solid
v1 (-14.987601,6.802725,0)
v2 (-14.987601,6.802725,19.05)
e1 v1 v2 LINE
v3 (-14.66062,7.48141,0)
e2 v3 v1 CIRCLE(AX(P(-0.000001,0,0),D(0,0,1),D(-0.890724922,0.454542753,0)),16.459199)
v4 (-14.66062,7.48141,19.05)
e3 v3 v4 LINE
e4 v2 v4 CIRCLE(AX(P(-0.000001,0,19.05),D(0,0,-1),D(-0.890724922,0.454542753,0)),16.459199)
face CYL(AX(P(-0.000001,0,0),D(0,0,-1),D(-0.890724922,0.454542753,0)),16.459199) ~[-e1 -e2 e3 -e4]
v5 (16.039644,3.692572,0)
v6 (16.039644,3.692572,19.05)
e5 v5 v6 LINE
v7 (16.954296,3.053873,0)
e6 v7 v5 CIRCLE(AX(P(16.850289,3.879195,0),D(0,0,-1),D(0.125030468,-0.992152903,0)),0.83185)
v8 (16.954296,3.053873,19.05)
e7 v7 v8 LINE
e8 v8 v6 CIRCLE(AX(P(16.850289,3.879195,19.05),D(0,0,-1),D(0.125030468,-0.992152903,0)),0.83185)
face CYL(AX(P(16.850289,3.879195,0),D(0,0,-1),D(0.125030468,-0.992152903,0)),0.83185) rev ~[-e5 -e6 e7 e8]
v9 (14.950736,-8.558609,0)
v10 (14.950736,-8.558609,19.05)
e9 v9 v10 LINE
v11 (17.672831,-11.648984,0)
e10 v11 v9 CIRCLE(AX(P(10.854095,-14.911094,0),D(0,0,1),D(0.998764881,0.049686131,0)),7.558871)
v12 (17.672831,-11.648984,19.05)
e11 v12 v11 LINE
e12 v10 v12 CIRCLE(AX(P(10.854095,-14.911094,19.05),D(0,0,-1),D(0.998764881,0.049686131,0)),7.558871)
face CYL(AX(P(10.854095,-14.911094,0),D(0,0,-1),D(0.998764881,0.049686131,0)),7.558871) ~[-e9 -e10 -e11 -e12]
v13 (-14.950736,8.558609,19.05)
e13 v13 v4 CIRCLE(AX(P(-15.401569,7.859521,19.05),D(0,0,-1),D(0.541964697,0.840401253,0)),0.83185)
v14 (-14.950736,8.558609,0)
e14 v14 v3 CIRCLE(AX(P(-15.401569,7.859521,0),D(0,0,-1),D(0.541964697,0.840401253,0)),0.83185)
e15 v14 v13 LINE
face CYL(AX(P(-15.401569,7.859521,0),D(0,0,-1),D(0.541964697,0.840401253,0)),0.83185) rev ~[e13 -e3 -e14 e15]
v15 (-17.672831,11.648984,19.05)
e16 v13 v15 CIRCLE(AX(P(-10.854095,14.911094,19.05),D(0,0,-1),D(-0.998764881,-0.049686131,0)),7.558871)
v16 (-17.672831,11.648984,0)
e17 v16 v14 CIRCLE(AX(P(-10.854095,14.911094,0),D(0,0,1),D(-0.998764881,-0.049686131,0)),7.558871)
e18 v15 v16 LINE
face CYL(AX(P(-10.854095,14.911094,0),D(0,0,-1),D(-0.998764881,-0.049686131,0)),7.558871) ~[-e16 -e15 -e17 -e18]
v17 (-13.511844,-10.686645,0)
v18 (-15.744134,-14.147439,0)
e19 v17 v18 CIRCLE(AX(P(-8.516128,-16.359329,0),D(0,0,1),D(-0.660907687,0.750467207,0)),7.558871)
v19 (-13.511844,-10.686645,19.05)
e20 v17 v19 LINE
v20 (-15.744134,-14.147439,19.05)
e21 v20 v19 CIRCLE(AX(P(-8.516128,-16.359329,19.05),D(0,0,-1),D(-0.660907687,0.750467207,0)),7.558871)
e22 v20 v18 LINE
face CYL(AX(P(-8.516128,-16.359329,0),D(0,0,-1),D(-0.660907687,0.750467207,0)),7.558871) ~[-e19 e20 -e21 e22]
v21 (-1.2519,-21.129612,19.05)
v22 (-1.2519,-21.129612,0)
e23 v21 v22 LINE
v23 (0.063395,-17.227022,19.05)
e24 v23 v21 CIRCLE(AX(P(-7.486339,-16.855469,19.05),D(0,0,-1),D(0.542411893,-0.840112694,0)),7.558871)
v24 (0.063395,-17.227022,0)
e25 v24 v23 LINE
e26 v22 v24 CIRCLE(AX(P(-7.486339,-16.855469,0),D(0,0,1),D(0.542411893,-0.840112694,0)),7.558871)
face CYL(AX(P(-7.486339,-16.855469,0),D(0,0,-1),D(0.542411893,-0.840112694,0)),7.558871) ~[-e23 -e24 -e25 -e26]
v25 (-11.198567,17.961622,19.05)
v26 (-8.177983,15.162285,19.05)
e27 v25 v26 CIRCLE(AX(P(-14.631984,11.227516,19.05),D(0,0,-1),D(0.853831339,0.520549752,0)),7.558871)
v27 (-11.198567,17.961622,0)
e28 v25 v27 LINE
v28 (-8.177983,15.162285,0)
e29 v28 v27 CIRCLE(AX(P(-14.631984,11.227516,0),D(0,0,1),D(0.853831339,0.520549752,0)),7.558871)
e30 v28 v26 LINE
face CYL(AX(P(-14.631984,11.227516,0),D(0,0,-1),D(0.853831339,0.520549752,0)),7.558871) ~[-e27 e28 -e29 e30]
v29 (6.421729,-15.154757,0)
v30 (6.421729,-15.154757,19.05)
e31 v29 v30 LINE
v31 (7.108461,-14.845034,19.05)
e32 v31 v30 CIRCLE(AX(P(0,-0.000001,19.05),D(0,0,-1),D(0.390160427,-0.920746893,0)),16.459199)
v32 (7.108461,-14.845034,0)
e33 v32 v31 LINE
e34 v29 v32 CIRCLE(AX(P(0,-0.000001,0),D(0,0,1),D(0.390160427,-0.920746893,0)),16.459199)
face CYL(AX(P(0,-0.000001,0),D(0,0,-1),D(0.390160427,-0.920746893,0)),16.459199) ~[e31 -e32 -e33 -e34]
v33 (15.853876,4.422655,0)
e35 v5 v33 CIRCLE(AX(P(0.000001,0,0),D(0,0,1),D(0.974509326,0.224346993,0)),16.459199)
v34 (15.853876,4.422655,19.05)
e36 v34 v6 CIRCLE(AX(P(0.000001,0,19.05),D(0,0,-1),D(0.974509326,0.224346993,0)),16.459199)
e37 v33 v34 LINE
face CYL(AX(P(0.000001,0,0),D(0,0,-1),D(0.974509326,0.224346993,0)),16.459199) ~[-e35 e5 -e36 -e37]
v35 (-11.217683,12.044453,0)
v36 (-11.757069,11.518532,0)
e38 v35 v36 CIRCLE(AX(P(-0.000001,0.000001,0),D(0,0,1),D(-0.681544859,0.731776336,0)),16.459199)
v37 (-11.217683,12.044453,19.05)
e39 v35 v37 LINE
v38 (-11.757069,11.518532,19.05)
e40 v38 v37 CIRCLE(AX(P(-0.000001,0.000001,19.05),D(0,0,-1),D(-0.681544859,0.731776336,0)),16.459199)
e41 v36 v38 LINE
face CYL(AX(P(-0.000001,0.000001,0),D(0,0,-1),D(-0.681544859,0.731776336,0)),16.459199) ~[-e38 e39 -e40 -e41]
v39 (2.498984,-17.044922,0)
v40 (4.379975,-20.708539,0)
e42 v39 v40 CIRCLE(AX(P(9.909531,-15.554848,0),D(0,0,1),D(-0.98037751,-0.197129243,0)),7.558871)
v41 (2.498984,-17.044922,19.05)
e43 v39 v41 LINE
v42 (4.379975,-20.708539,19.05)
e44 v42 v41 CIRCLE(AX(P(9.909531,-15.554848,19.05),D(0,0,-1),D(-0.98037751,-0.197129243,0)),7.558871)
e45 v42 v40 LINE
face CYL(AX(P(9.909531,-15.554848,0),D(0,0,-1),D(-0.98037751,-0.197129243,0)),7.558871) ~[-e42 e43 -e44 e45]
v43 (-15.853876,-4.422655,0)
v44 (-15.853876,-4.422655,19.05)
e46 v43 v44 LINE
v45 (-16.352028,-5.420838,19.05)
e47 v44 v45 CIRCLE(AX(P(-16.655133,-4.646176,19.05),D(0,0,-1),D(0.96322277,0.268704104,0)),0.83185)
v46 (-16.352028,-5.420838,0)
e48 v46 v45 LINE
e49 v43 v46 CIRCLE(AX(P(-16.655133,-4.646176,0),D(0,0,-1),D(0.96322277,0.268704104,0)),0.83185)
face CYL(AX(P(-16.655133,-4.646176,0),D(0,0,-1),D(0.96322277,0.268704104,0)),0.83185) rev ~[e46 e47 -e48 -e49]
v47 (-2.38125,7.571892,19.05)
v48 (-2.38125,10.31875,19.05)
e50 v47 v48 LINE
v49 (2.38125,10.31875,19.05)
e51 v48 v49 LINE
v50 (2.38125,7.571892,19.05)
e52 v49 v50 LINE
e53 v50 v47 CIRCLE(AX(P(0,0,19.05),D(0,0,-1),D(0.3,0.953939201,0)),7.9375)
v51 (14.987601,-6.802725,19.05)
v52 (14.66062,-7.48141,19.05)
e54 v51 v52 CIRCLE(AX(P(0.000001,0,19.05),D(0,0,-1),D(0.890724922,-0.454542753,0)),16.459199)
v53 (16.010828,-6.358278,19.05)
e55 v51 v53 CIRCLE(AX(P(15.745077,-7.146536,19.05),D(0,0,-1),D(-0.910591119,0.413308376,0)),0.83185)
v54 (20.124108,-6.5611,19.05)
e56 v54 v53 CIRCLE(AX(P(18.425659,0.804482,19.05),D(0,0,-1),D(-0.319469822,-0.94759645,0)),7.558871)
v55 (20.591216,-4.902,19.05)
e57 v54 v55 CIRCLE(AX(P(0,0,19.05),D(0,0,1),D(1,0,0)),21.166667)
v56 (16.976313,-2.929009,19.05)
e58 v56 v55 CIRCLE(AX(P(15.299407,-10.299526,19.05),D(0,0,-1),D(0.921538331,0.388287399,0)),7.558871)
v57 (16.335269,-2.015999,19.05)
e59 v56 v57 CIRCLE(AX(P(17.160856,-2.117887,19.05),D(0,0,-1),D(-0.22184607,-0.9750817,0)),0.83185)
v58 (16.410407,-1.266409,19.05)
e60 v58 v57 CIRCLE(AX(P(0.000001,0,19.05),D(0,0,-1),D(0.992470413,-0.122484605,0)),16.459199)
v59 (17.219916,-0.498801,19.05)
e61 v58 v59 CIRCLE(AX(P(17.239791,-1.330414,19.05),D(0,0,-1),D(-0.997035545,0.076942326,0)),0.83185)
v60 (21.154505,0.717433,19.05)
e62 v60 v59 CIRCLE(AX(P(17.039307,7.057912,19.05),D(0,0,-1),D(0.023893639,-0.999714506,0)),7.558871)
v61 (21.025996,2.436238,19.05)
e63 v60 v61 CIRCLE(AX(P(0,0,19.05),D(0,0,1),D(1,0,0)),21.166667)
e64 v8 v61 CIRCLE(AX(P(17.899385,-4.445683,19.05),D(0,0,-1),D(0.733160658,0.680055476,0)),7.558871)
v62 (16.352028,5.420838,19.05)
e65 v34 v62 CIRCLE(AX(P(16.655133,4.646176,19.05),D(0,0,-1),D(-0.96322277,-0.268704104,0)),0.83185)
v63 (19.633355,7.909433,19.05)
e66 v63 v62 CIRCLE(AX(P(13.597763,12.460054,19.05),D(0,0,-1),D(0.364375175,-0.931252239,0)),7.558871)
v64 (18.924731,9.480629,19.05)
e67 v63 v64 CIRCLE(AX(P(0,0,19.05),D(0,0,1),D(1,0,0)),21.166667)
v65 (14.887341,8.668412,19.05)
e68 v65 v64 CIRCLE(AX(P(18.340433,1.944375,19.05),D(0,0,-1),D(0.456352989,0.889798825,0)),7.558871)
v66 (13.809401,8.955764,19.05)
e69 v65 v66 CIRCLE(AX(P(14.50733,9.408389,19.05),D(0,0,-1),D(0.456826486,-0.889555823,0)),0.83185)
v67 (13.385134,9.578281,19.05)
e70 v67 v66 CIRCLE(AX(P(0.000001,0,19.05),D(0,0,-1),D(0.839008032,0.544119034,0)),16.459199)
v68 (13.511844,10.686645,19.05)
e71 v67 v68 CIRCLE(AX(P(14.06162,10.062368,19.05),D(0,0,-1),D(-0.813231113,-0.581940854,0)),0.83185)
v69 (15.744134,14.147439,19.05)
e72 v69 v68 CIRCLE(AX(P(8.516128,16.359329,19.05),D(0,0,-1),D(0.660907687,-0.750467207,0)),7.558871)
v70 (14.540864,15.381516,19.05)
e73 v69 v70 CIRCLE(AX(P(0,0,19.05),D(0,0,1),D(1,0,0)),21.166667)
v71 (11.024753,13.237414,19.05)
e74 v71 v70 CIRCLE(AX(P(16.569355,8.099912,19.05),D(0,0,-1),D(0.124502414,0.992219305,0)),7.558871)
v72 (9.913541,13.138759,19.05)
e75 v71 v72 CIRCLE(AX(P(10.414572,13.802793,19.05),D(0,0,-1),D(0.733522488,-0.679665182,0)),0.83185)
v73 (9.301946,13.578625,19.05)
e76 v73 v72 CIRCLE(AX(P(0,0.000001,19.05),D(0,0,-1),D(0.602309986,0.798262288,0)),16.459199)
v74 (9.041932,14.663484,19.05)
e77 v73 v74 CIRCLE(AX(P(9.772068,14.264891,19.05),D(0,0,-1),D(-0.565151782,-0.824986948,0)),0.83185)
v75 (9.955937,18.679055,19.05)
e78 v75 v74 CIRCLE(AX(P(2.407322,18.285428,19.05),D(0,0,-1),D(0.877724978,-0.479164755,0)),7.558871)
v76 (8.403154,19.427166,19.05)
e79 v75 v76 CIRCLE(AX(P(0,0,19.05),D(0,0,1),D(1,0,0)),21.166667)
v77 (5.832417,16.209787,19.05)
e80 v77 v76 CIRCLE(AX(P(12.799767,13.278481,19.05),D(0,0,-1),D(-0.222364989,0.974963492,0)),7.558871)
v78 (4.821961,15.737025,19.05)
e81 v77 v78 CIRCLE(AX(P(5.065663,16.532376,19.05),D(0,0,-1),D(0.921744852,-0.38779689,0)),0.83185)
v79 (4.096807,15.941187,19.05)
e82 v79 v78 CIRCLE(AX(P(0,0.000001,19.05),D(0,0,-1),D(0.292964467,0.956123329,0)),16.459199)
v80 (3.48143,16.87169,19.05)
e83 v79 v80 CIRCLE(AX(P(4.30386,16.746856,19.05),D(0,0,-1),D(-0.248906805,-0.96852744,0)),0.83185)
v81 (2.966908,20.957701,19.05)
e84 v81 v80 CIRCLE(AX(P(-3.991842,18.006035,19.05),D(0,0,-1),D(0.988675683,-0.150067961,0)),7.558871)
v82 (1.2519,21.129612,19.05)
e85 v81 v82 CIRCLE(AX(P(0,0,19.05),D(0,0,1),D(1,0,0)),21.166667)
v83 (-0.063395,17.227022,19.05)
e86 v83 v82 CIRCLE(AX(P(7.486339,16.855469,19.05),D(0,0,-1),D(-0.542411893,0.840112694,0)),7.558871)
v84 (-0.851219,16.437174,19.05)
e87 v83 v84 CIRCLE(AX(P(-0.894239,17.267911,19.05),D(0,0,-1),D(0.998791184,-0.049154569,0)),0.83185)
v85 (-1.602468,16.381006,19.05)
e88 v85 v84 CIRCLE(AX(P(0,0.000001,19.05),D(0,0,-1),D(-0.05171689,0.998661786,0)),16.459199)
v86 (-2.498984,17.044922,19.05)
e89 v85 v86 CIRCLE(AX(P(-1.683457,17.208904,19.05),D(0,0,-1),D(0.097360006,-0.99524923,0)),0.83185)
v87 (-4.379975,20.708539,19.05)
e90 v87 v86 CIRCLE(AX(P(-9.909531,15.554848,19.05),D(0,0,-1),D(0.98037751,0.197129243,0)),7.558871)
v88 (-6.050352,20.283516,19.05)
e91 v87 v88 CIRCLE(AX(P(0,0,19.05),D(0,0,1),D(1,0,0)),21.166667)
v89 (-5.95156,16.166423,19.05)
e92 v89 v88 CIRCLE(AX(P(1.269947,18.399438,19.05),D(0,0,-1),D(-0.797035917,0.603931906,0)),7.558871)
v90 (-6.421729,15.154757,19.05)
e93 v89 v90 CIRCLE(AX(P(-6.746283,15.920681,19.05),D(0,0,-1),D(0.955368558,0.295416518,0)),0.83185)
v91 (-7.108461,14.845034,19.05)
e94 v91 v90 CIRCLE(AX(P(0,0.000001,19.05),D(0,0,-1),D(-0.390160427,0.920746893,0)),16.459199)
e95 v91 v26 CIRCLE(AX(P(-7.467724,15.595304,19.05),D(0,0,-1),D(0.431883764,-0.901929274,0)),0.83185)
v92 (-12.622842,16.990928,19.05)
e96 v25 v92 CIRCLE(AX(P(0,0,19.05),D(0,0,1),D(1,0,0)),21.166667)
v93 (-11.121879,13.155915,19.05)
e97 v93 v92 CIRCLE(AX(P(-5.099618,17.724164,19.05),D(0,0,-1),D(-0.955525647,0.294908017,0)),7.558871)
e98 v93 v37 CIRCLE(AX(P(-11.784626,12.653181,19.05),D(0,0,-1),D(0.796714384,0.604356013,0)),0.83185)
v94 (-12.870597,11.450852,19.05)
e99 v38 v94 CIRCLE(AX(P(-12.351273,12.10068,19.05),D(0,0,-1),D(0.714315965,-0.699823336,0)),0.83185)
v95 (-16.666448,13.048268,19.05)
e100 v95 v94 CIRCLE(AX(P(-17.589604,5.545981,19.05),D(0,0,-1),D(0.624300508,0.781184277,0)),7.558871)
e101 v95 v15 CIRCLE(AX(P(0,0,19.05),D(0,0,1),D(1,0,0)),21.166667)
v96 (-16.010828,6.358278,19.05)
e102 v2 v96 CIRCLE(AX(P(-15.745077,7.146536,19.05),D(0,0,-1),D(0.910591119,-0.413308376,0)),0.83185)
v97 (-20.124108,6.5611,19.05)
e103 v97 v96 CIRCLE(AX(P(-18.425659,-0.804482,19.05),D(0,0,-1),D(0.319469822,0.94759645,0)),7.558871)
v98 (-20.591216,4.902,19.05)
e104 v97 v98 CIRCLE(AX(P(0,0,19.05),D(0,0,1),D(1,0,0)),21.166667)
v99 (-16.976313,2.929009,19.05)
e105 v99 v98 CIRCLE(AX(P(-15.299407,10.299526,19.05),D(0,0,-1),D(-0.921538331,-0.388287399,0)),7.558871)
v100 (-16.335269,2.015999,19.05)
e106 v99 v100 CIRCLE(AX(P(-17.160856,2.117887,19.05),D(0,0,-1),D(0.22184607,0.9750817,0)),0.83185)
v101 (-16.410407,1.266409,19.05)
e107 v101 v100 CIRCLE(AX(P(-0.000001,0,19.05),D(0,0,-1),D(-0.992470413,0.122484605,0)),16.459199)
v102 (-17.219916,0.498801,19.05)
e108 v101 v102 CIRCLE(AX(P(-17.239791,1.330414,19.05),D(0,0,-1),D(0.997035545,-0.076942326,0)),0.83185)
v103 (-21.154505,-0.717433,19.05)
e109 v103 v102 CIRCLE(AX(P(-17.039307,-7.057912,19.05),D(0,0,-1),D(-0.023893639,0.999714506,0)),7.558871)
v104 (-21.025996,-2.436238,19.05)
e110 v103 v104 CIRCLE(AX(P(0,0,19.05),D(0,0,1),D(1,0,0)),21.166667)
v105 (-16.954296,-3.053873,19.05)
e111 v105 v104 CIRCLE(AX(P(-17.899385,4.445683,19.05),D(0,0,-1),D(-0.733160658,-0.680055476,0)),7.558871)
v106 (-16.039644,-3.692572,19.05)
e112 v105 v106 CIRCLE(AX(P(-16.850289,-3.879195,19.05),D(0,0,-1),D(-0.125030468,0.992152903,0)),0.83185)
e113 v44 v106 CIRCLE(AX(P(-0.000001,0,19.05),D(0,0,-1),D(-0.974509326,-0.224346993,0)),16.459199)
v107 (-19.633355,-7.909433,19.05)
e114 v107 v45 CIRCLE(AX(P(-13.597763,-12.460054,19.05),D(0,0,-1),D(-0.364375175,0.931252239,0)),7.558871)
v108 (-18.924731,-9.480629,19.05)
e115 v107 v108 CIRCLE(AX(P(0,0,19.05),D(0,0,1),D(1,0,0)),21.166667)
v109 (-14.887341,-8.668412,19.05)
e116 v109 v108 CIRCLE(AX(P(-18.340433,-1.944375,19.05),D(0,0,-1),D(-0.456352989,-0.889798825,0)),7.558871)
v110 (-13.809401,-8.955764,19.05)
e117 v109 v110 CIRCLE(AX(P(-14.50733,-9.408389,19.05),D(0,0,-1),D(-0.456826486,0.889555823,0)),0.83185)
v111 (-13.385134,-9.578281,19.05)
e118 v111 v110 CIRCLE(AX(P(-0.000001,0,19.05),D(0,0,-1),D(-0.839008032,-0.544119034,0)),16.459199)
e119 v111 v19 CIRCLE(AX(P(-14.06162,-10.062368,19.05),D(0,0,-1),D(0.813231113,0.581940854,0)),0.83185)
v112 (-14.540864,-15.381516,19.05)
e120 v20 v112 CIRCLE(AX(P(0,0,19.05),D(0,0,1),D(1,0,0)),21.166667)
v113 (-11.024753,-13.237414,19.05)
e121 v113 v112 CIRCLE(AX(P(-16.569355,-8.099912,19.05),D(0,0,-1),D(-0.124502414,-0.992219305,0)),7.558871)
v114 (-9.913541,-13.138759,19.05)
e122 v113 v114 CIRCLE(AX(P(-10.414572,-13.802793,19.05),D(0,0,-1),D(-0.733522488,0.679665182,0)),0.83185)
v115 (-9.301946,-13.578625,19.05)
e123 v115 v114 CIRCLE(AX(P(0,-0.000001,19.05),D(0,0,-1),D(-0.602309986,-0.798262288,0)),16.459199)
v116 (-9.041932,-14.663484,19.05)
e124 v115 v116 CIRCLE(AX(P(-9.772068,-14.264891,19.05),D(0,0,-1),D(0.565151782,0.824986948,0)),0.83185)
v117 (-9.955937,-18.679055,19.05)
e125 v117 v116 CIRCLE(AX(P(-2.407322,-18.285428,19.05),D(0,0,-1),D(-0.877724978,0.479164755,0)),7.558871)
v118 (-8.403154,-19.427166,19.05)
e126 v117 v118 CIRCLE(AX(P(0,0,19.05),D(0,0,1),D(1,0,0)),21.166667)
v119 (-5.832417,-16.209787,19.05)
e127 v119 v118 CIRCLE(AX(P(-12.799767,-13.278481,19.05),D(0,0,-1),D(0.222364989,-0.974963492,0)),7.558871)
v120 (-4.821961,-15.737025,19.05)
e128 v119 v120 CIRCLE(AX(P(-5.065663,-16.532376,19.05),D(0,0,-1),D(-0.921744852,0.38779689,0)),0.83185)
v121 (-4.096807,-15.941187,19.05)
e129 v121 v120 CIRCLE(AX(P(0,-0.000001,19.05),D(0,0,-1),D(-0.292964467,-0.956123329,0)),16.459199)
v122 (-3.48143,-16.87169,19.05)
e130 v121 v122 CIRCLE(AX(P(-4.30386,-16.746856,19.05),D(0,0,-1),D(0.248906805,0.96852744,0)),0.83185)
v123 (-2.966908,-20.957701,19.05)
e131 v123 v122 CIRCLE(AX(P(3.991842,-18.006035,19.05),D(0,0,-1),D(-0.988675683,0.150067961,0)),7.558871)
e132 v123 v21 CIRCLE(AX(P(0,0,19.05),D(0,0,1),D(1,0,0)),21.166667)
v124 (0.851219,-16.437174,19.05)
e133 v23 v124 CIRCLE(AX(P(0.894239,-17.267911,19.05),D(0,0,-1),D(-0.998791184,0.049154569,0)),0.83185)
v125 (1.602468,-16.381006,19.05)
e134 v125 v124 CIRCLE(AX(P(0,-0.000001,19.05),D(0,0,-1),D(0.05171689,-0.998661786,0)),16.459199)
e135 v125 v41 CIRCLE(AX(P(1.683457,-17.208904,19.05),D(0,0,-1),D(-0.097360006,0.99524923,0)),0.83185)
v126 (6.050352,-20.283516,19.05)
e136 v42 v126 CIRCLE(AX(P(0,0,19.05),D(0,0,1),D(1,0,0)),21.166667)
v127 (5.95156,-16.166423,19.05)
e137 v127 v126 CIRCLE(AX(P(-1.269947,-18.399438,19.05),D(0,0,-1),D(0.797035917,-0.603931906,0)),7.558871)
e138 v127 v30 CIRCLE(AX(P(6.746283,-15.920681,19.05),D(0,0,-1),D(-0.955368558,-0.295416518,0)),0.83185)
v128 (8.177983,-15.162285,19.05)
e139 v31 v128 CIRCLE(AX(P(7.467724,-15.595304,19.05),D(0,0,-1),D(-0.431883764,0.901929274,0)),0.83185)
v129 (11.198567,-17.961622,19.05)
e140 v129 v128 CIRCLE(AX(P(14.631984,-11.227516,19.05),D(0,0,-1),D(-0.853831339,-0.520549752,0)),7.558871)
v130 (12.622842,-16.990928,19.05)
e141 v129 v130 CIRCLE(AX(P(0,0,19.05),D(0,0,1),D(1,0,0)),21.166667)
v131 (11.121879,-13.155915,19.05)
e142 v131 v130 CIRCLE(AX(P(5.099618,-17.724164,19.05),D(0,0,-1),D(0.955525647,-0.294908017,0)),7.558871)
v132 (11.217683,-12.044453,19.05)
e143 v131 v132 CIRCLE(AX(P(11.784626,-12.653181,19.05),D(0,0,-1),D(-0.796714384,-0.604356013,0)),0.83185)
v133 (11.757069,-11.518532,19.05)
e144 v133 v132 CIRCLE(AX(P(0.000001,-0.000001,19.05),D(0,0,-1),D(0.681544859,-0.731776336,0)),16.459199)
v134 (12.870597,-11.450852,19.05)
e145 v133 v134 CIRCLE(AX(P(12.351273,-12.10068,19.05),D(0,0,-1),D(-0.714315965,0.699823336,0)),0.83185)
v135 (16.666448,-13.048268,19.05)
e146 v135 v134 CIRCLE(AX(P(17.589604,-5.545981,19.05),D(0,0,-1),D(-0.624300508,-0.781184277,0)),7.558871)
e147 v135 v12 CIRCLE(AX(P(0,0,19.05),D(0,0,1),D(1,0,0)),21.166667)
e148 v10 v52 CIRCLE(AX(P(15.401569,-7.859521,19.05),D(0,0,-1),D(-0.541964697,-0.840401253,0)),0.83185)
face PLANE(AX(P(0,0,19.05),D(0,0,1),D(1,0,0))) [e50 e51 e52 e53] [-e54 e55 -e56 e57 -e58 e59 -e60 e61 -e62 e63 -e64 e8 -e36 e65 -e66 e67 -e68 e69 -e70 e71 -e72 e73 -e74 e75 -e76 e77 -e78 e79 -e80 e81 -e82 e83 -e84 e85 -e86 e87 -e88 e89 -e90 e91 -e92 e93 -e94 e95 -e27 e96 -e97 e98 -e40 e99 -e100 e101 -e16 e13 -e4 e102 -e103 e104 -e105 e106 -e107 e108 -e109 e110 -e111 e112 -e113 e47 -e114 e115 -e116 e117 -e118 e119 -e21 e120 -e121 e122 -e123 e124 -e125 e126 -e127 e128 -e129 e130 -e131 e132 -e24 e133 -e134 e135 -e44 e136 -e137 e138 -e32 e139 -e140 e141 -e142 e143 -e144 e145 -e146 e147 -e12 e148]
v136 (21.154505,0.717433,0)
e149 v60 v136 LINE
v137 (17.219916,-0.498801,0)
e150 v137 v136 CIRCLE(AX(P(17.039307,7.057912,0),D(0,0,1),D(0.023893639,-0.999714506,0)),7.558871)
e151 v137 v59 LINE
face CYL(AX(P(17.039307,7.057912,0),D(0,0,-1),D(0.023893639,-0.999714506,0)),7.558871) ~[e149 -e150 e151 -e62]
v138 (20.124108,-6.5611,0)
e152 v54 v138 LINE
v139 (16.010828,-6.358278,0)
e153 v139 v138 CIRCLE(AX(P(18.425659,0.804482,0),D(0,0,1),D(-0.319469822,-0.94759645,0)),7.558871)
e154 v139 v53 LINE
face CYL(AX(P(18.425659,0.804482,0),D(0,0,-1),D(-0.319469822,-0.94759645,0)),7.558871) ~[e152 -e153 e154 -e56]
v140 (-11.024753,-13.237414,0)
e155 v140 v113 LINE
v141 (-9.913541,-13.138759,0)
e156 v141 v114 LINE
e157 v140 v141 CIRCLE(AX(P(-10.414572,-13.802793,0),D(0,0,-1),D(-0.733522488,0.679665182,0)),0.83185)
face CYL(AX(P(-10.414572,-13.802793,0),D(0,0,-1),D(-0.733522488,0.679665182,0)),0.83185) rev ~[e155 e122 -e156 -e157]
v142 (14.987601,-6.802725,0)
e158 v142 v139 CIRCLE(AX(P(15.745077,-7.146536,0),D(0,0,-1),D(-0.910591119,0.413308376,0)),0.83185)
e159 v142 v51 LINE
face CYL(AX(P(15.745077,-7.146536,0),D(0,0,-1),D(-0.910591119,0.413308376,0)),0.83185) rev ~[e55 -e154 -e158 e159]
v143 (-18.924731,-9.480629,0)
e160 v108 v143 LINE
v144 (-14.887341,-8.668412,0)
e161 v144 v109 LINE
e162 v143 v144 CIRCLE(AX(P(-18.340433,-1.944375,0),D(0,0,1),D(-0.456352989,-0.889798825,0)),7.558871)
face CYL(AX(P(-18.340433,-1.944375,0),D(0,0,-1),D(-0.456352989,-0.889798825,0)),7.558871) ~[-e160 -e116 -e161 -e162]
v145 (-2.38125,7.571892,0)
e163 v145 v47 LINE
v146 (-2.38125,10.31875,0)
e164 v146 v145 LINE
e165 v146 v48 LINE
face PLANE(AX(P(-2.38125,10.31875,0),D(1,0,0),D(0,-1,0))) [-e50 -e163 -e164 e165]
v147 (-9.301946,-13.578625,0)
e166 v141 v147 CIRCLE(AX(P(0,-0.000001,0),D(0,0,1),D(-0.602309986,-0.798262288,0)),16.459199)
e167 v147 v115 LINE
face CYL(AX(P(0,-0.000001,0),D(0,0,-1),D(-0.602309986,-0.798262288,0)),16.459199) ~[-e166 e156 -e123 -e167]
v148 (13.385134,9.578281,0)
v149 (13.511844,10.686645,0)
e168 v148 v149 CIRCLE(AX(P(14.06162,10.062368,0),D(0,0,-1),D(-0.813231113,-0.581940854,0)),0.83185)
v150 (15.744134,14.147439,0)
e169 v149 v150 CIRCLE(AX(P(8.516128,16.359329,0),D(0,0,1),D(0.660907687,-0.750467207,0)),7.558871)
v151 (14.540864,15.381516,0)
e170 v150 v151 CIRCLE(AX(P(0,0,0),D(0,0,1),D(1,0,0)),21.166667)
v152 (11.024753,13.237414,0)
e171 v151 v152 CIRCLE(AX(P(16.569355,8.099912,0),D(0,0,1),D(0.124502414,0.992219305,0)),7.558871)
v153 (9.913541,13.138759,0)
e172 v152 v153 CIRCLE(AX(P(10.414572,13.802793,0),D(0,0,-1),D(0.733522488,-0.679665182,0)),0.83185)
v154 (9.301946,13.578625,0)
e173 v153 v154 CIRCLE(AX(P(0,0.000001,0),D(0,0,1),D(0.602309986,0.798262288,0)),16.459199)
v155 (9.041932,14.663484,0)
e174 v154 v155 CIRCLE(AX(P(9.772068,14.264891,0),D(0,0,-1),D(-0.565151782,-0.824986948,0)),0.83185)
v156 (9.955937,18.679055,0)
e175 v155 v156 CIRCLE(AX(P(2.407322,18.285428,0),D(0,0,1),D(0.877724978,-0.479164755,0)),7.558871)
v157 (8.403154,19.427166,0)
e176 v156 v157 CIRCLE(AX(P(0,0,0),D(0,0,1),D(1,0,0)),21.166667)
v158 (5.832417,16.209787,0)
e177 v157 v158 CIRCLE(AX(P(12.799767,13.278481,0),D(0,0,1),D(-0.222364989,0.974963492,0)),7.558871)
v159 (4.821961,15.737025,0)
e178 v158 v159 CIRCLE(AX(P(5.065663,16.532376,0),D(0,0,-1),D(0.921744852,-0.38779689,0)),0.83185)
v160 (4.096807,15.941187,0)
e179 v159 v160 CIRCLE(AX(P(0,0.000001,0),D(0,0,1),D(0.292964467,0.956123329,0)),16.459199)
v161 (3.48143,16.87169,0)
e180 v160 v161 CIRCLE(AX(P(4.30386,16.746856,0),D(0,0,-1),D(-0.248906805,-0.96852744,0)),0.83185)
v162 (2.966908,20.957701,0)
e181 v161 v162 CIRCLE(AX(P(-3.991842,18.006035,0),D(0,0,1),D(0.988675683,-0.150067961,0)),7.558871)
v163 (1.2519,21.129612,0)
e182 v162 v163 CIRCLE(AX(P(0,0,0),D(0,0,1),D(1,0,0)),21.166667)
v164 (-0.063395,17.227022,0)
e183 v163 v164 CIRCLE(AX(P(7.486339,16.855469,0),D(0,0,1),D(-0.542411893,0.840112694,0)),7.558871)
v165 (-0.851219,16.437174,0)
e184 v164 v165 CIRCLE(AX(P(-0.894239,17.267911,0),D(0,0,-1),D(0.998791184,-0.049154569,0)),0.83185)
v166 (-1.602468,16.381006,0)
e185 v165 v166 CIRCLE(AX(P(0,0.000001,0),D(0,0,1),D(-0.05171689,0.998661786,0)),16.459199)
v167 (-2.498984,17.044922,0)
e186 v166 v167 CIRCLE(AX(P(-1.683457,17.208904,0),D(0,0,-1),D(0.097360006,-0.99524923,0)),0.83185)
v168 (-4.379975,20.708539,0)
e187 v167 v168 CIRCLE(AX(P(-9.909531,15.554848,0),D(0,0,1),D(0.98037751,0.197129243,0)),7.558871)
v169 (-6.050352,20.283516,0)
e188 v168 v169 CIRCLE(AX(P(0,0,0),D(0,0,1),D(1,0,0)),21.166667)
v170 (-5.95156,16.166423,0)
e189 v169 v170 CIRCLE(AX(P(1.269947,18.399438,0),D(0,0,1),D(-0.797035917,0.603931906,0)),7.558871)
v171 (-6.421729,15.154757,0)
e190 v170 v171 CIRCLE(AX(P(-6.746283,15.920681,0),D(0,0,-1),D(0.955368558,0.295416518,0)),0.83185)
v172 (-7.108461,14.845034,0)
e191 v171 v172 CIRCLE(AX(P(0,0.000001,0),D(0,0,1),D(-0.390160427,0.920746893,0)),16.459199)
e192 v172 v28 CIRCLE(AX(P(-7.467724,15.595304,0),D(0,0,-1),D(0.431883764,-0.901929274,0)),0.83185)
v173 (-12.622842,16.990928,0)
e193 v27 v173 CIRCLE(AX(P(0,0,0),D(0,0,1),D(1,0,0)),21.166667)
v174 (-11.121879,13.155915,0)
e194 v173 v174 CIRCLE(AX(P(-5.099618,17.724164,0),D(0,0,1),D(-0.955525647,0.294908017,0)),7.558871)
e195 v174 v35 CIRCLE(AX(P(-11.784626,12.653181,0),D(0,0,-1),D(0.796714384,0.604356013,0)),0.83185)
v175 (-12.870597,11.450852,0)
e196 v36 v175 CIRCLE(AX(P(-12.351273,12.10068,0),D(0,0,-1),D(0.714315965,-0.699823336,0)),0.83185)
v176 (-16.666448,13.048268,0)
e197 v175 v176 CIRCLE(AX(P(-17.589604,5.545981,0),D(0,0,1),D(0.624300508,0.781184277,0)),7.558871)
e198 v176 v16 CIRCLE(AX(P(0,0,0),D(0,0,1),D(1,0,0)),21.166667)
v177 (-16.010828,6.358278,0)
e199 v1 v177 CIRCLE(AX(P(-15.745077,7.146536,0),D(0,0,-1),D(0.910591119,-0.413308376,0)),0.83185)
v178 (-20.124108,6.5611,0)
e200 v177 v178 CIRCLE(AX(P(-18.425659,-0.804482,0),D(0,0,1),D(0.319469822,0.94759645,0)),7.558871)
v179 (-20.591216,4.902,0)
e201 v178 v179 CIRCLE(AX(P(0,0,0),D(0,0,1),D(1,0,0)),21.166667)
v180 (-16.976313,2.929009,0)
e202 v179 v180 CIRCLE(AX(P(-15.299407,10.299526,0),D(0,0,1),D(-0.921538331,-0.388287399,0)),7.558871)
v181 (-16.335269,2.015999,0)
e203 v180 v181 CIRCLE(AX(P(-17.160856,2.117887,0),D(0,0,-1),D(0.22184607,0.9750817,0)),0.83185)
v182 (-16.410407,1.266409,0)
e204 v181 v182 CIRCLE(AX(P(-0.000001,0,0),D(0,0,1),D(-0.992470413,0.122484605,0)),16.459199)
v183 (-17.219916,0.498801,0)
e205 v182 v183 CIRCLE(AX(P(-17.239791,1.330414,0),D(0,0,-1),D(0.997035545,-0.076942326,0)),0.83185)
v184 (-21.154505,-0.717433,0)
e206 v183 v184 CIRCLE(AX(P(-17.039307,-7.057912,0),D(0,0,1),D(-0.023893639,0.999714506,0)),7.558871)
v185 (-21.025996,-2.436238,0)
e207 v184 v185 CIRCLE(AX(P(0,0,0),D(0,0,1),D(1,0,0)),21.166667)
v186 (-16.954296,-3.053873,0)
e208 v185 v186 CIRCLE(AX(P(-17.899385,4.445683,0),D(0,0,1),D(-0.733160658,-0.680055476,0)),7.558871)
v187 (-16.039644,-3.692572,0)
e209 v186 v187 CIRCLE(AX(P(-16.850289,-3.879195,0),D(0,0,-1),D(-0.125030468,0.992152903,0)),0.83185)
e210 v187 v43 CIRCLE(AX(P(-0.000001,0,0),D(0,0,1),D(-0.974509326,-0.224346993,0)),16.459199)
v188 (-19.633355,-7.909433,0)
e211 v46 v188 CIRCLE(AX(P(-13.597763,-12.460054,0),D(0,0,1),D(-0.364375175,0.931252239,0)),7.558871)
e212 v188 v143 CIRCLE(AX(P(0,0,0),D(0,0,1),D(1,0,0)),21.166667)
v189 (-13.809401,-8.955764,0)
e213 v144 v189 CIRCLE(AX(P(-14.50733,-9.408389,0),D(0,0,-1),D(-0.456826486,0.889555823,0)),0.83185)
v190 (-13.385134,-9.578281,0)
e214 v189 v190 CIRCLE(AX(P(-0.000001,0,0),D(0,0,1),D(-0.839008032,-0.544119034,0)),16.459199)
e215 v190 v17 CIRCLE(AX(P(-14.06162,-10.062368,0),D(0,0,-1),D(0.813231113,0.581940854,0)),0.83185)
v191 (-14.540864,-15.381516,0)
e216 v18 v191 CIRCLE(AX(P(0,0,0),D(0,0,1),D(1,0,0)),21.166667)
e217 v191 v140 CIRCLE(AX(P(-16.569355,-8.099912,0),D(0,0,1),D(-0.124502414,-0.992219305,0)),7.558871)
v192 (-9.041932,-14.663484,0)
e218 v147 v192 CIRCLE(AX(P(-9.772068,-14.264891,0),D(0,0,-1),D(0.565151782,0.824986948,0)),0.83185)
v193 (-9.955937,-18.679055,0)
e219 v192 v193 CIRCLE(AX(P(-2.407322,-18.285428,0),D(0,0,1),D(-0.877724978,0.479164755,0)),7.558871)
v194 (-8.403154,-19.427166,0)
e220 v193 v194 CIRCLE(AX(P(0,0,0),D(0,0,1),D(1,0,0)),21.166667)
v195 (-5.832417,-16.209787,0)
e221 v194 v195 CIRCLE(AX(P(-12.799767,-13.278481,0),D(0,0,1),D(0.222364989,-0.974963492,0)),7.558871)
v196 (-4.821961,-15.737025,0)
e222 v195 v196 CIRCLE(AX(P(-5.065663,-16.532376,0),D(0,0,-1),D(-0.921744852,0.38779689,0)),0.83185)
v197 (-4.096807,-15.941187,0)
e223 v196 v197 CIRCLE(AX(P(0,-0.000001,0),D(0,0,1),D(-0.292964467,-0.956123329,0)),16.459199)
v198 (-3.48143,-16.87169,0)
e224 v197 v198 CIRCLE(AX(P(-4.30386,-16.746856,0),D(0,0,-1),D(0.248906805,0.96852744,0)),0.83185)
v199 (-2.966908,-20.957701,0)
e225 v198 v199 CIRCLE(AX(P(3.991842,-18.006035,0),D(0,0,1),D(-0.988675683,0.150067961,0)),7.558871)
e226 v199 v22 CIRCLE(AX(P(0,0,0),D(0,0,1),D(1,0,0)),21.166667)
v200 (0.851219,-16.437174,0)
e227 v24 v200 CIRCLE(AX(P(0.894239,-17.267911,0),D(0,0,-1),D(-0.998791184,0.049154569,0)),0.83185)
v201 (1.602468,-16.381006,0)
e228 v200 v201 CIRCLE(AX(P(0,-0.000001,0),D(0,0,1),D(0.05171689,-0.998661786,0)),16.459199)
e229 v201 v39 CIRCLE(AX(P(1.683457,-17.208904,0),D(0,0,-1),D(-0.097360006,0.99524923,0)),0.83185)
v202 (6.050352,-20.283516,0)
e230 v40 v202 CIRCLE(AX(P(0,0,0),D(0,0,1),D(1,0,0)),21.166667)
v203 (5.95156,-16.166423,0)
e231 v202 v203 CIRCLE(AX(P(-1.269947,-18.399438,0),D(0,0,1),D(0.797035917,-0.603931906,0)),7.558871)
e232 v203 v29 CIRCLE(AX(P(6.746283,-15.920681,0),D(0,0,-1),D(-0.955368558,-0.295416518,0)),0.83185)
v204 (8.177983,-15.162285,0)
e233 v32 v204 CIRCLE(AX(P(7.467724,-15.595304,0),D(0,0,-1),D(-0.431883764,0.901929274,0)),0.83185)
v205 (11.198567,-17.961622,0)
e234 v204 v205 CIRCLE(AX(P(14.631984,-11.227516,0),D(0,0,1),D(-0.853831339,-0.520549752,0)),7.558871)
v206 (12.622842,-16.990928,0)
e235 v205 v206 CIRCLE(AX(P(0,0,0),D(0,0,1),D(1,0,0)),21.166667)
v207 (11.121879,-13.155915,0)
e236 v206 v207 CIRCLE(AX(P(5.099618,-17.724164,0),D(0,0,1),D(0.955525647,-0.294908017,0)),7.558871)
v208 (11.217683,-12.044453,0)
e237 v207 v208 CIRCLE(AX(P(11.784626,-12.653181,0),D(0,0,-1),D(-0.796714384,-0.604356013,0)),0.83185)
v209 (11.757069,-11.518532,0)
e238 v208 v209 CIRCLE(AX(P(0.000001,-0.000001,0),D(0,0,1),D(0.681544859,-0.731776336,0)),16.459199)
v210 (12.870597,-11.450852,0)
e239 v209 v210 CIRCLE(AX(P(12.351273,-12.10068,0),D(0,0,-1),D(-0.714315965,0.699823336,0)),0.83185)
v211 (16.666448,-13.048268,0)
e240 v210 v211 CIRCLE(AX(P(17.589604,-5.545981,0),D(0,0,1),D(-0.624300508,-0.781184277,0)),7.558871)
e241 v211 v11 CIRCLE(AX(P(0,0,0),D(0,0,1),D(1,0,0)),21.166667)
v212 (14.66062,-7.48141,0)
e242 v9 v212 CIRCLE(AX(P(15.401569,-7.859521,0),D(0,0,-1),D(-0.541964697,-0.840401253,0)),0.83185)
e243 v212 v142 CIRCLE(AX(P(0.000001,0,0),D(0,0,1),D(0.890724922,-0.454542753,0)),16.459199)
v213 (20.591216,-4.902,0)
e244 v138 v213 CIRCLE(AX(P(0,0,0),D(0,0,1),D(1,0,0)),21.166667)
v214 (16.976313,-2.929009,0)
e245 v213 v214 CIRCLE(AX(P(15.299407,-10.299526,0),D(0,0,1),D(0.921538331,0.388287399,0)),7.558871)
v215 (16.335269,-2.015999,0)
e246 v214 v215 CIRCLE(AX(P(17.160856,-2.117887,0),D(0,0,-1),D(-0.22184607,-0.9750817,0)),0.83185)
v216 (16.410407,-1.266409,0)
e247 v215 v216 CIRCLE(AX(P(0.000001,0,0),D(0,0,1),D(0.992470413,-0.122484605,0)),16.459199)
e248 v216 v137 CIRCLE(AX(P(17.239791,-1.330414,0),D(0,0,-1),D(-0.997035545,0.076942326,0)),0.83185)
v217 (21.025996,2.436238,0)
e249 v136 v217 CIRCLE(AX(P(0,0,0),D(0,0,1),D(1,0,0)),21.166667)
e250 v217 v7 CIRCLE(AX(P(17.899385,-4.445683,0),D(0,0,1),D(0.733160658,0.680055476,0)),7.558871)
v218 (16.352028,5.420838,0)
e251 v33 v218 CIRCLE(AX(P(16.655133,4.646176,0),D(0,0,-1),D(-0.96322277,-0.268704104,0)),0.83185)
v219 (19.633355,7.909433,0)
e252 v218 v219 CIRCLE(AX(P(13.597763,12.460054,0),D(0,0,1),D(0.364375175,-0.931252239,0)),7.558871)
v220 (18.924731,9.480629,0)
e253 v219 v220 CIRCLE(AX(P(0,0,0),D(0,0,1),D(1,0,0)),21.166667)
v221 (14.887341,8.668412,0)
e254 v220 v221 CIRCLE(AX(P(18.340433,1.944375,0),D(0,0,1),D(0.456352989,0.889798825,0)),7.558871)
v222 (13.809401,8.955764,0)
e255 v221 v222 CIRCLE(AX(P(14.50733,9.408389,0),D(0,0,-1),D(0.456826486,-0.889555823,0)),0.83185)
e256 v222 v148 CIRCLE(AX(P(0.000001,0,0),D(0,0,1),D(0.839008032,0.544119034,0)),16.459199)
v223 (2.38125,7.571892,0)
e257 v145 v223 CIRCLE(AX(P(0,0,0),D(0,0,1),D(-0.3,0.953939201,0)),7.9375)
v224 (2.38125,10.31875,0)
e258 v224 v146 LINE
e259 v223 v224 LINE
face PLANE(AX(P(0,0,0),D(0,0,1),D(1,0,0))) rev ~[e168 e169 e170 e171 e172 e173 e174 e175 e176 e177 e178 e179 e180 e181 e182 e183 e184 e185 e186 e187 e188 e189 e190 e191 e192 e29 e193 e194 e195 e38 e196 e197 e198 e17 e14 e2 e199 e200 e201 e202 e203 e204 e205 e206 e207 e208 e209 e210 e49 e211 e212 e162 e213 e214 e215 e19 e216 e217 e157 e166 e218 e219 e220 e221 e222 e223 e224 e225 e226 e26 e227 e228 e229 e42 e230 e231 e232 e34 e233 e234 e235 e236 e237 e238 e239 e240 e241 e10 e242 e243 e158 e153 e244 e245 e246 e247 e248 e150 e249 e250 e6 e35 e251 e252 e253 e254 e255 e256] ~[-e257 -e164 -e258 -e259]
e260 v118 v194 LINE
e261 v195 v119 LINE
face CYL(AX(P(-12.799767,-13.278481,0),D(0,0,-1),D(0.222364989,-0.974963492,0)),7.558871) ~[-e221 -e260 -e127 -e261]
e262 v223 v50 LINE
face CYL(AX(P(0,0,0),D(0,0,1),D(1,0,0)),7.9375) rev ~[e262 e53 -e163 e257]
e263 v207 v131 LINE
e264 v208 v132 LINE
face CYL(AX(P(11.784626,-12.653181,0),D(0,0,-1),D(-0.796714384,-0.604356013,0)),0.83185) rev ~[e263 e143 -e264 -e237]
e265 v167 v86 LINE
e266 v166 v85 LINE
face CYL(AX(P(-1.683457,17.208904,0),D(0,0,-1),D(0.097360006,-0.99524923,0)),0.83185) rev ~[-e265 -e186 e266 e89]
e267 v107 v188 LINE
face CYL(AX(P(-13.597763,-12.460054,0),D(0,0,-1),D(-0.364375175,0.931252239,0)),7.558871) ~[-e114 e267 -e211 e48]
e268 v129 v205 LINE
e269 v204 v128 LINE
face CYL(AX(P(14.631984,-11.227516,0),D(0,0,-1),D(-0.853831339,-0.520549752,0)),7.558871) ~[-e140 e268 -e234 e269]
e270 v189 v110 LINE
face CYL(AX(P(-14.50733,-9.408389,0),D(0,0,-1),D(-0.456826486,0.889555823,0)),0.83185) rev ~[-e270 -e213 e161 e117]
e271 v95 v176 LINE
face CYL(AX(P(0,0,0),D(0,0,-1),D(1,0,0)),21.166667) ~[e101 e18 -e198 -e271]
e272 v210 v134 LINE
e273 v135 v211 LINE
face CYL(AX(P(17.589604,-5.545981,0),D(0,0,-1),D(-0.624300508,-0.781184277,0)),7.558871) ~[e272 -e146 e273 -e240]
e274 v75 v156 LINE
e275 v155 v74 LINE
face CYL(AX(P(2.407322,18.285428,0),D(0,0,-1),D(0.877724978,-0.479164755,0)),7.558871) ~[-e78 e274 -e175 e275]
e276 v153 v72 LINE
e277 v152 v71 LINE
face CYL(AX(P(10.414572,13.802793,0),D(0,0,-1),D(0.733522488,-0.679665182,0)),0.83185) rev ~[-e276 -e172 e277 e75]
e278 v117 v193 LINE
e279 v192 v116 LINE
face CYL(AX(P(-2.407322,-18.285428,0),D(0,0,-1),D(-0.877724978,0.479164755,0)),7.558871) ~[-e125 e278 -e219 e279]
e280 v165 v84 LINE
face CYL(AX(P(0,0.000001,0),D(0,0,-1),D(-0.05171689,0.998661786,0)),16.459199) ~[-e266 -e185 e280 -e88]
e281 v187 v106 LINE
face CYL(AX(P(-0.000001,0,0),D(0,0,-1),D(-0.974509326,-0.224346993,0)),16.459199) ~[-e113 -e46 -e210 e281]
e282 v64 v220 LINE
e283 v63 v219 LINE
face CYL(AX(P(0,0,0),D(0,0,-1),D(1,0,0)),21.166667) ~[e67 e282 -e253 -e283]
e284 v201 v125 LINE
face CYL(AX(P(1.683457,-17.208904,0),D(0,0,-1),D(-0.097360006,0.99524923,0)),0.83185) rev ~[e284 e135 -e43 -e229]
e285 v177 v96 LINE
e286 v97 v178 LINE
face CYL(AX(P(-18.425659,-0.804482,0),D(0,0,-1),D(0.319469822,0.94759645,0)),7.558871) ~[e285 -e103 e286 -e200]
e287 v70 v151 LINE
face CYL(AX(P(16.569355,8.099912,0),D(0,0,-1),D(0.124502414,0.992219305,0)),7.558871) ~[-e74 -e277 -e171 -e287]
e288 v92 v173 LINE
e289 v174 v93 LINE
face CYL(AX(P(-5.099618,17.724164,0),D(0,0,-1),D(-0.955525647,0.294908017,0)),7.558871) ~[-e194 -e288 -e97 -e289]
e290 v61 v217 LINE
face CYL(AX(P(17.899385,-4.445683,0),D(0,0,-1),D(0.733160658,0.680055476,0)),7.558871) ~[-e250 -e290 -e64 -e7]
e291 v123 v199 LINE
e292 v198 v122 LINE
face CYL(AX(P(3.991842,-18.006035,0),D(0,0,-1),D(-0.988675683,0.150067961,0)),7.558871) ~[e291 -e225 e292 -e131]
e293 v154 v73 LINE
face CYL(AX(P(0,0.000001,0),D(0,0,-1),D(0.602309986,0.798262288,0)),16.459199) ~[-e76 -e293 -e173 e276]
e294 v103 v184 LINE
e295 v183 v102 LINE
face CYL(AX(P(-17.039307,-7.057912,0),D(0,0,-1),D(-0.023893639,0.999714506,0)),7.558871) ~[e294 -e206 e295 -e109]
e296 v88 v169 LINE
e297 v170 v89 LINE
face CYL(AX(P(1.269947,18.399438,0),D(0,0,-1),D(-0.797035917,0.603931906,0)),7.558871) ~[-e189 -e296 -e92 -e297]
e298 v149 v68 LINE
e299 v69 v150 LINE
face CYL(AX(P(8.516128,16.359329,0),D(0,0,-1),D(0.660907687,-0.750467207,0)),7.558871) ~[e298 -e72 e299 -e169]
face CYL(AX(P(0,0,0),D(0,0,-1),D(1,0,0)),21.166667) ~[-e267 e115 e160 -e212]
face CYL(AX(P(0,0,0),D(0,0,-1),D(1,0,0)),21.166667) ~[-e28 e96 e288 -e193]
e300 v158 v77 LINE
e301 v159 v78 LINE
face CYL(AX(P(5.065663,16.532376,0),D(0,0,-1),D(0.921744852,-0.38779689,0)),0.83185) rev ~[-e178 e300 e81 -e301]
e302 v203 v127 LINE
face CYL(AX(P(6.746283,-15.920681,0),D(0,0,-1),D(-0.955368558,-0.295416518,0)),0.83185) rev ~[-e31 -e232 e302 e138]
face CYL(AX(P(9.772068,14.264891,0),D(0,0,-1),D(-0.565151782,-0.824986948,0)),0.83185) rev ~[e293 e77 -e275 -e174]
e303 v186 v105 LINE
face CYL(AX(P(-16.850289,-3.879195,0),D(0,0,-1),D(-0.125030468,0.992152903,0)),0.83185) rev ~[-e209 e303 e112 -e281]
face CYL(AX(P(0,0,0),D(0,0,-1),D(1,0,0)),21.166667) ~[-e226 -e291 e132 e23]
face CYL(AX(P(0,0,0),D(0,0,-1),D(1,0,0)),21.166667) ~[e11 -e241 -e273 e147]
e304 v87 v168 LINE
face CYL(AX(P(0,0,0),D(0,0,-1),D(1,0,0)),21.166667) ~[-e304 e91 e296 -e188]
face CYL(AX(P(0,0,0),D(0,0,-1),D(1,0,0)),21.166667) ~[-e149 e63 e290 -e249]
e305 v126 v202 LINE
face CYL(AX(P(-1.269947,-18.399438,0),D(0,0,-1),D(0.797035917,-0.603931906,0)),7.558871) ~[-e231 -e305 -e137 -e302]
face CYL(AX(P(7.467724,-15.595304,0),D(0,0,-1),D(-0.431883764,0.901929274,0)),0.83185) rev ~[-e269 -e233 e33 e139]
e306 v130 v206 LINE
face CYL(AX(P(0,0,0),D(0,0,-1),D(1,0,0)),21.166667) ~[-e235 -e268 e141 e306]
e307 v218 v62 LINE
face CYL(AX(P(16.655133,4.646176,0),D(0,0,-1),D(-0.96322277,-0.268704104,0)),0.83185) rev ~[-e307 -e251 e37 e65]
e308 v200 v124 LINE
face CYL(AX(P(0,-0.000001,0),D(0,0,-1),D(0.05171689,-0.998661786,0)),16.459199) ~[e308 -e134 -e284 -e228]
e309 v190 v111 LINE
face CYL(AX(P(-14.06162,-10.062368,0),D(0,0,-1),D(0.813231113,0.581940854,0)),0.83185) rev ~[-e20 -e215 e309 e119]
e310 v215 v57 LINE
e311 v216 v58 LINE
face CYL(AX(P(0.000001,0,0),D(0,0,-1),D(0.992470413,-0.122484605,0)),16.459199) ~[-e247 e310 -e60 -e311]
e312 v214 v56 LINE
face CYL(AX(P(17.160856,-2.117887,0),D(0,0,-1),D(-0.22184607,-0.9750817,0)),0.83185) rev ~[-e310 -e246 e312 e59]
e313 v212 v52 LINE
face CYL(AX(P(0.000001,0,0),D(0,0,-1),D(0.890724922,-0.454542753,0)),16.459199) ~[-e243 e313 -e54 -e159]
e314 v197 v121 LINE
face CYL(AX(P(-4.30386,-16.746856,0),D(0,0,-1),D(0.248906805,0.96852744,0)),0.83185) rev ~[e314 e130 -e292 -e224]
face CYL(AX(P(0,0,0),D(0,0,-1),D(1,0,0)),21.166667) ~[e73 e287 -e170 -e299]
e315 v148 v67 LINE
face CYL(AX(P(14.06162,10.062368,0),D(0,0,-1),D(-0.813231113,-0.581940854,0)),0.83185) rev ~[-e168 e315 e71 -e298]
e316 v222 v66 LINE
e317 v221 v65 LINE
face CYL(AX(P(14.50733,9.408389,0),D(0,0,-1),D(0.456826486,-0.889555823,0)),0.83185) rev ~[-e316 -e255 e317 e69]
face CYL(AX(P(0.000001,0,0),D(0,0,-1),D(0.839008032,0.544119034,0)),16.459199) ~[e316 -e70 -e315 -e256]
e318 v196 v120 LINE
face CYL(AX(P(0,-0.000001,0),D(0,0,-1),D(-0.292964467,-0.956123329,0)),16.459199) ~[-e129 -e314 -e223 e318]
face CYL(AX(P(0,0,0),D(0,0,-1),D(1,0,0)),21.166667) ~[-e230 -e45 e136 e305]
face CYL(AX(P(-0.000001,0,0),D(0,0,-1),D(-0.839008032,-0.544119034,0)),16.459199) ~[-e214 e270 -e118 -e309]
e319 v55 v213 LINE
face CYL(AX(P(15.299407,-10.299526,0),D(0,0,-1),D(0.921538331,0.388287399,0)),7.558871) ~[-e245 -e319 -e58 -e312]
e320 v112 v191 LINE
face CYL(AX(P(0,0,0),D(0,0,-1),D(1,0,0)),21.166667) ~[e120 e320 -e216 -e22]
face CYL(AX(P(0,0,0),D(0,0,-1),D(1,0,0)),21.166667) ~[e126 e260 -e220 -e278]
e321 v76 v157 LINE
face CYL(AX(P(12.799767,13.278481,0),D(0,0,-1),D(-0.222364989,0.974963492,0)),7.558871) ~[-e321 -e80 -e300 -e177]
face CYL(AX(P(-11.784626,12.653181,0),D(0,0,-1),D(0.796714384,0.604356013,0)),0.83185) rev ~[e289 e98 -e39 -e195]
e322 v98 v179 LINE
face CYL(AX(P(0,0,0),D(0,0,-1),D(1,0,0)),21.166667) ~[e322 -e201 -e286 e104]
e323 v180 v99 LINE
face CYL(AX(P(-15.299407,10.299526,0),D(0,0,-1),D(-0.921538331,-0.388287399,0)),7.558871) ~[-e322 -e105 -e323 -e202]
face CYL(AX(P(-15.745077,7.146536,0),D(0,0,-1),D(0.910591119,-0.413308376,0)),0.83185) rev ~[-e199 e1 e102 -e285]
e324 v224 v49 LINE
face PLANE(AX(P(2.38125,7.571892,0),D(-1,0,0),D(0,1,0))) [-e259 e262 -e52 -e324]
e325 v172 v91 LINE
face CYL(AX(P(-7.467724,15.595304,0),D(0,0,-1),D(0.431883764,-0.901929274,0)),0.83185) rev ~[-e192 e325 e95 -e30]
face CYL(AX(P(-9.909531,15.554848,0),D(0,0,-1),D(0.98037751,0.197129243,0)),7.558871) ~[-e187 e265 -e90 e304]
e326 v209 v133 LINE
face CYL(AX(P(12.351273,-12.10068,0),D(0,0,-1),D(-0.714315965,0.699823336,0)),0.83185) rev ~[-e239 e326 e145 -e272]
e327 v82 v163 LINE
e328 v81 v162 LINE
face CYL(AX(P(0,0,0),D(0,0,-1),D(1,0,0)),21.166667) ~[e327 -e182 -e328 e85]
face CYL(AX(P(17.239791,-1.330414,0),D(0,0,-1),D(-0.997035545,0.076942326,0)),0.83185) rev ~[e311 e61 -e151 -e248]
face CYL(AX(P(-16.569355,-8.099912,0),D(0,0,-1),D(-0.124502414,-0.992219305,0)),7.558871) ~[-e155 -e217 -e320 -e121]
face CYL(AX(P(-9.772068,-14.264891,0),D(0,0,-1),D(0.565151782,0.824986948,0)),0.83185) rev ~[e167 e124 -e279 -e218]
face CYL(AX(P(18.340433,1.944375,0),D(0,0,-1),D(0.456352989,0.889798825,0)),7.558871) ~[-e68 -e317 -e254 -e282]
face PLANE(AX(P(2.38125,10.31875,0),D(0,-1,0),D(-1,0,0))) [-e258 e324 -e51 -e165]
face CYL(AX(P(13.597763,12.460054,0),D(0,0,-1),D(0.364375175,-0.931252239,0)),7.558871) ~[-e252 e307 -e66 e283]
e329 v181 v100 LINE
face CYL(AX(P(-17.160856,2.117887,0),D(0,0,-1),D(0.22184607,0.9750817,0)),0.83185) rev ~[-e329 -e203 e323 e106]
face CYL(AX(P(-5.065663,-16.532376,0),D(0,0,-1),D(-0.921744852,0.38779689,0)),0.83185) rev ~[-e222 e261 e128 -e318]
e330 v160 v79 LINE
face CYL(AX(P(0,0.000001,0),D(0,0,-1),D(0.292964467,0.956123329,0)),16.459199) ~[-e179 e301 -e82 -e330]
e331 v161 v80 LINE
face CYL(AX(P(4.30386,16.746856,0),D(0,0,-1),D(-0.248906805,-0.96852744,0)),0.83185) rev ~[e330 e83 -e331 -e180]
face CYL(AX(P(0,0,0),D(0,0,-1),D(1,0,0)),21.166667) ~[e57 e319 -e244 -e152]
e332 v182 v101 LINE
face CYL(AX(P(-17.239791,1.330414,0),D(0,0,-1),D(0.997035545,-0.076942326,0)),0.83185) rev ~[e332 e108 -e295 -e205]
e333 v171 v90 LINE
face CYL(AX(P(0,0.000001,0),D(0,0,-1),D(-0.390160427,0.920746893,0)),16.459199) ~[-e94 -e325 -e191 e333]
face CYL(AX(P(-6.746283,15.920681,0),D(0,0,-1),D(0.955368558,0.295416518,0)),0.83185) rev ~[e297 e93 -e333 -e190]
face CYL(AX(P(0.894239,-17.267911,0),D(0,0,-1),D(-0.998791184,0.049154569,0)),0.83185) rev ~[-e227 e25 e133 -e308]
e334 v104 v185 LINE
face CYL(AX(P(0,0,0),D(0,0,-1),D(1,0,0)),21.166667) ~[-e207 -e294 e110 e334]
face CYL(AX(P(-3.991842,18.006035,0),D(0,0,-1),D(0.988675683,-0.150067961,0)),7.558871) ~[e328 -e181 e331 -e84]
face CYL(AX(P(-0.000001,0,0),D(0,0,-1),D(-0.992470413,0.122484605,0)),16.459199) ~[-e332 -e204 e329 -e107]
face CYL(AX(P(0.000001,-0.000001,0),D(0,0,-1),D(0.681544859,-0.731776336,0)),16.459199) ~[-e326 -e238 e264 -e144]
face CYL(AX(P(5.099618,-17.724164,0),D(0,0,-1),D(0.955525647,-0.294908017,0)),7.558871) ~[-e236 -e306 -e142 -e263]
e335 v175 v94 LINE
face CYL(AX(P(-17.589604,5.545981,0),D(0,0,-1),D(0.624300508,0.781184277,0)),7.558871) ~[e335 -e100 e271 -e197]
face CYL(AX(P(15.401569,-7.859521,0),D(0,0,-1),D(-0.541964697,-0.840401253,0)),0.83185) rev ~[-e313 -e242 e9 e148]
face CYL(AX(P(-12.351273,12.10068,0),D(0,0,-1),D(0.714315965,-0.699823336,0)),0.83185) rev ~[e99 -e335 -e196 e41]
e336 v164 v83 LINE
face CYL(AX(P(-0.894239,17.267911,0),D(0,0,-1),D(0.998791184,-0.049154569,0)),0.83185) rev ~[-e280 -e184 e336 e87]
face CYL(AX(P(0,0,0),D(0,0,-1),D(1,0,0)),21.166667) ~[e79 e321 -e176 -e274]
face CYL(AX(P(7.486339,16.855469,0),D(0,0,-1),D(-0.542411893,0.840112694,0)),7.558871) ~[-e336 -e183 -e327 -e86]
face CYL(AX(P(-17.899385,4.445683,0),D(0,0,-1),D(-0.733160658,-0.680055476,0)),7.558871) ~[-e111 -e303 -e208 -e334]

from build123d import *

# Parameters (mm, degrees)
SKETCH3_R          = 21.166666667
GEARBODY_DEPTH     = 19.05
TOOTHCUT_DEPTH     = 20.05
CIRPATTERN1_COUNT  = 18
BOREDIA_R          = 7.9375
BORE_DEPTH         = 12700
CUT_EXTRUDE1_DEPTH = 20.05


with BuildPart() as part:
    # Sketch3 → gearBody (new body)
    with BuildSketch(Plane.XY):
        Circle(SKETCH3_R)
    extrude(amount=GEARBODY_DEPTH)

    # Sketch2 → toothCut (cut, through all)
    with BuildSketch(Plane.XY):
        with BuildLine():
            ThreePointArc((16.335269031, -2.015998593), (16.377127438, -1.641633799), (16.410407448, -1.266409111))
            ThreePointArc((16.410407448, -1.266409111), (16.667413848, -0.726792607), (17.219915542, -0.498801072))
            ThreePointArc((17.219915542, -0.498801072), (20.650307967, 0.417339666), (23.283949955, 2.798691365))
            ThreePointArc((23.283949955, 2.798691365), (23.334606399, -2.339047473), (22.265196368, -7.364511495))
            ThreePointArc((22.265196368, -7.364511495), (20.156614608, -4.507802025), (16.976312891, -2.929009122))
            ThreePointArc((16.976312891, -2.929009122), (16.480056536, -2.595890687), (16.335269031, -2.015998593))
        make_face()
    toothcut = extrude(amount=TOOTHCUT_DEPTH, mode=Mode.SUBTRACT)

    # CirPattern1: toothCut ×18 about axis
    cirpattern1_axis = Axis((0, 0, 0), (0, 0, 1))
    for i in range(1, CIRPATTERN1_COUNT):
        add(toothcut.rotate(cirpattern1_axis, i * 360 / CIRPATTERN1_COUNT), mode=Mode.SUBTRACT)

    # boreDia → bore (cut, symmetric)
    with BuildSketch(Plane.XY):
        Circle(BOREDIA_R)
    extrude(amount=BORE_DEPTH, both=True, mode=Mode.SUBTRACT)

    # Sketch4 → Cut-Extrude1 (cut, through all)
    with BuildSketch(Plane(origin=(0, 0, 0), x_dir=(-1, 0, 0), z_dir=(0, 0, -1))):
        with BuildLine():
            Line((0, 10.31875), (2.38125, 10.31875))
            Line((2.38125, 10.31875), (2.38125, 7.571892411))
            ThreePointArc((2.38125, 7.571892411), (0, 7.9375), (-2.38125, 7.571892411))
            Line((-2.38125, 7.571892411), (-2.38125, 10.31875))
            Line((-2.38125, 10.31875), (0, 10.31875))
        make_face()
    extrude(amount=-CUT_EXTRUDE1_DEPTH, mode=Mode.SUBTRACT)


solid = part.part
